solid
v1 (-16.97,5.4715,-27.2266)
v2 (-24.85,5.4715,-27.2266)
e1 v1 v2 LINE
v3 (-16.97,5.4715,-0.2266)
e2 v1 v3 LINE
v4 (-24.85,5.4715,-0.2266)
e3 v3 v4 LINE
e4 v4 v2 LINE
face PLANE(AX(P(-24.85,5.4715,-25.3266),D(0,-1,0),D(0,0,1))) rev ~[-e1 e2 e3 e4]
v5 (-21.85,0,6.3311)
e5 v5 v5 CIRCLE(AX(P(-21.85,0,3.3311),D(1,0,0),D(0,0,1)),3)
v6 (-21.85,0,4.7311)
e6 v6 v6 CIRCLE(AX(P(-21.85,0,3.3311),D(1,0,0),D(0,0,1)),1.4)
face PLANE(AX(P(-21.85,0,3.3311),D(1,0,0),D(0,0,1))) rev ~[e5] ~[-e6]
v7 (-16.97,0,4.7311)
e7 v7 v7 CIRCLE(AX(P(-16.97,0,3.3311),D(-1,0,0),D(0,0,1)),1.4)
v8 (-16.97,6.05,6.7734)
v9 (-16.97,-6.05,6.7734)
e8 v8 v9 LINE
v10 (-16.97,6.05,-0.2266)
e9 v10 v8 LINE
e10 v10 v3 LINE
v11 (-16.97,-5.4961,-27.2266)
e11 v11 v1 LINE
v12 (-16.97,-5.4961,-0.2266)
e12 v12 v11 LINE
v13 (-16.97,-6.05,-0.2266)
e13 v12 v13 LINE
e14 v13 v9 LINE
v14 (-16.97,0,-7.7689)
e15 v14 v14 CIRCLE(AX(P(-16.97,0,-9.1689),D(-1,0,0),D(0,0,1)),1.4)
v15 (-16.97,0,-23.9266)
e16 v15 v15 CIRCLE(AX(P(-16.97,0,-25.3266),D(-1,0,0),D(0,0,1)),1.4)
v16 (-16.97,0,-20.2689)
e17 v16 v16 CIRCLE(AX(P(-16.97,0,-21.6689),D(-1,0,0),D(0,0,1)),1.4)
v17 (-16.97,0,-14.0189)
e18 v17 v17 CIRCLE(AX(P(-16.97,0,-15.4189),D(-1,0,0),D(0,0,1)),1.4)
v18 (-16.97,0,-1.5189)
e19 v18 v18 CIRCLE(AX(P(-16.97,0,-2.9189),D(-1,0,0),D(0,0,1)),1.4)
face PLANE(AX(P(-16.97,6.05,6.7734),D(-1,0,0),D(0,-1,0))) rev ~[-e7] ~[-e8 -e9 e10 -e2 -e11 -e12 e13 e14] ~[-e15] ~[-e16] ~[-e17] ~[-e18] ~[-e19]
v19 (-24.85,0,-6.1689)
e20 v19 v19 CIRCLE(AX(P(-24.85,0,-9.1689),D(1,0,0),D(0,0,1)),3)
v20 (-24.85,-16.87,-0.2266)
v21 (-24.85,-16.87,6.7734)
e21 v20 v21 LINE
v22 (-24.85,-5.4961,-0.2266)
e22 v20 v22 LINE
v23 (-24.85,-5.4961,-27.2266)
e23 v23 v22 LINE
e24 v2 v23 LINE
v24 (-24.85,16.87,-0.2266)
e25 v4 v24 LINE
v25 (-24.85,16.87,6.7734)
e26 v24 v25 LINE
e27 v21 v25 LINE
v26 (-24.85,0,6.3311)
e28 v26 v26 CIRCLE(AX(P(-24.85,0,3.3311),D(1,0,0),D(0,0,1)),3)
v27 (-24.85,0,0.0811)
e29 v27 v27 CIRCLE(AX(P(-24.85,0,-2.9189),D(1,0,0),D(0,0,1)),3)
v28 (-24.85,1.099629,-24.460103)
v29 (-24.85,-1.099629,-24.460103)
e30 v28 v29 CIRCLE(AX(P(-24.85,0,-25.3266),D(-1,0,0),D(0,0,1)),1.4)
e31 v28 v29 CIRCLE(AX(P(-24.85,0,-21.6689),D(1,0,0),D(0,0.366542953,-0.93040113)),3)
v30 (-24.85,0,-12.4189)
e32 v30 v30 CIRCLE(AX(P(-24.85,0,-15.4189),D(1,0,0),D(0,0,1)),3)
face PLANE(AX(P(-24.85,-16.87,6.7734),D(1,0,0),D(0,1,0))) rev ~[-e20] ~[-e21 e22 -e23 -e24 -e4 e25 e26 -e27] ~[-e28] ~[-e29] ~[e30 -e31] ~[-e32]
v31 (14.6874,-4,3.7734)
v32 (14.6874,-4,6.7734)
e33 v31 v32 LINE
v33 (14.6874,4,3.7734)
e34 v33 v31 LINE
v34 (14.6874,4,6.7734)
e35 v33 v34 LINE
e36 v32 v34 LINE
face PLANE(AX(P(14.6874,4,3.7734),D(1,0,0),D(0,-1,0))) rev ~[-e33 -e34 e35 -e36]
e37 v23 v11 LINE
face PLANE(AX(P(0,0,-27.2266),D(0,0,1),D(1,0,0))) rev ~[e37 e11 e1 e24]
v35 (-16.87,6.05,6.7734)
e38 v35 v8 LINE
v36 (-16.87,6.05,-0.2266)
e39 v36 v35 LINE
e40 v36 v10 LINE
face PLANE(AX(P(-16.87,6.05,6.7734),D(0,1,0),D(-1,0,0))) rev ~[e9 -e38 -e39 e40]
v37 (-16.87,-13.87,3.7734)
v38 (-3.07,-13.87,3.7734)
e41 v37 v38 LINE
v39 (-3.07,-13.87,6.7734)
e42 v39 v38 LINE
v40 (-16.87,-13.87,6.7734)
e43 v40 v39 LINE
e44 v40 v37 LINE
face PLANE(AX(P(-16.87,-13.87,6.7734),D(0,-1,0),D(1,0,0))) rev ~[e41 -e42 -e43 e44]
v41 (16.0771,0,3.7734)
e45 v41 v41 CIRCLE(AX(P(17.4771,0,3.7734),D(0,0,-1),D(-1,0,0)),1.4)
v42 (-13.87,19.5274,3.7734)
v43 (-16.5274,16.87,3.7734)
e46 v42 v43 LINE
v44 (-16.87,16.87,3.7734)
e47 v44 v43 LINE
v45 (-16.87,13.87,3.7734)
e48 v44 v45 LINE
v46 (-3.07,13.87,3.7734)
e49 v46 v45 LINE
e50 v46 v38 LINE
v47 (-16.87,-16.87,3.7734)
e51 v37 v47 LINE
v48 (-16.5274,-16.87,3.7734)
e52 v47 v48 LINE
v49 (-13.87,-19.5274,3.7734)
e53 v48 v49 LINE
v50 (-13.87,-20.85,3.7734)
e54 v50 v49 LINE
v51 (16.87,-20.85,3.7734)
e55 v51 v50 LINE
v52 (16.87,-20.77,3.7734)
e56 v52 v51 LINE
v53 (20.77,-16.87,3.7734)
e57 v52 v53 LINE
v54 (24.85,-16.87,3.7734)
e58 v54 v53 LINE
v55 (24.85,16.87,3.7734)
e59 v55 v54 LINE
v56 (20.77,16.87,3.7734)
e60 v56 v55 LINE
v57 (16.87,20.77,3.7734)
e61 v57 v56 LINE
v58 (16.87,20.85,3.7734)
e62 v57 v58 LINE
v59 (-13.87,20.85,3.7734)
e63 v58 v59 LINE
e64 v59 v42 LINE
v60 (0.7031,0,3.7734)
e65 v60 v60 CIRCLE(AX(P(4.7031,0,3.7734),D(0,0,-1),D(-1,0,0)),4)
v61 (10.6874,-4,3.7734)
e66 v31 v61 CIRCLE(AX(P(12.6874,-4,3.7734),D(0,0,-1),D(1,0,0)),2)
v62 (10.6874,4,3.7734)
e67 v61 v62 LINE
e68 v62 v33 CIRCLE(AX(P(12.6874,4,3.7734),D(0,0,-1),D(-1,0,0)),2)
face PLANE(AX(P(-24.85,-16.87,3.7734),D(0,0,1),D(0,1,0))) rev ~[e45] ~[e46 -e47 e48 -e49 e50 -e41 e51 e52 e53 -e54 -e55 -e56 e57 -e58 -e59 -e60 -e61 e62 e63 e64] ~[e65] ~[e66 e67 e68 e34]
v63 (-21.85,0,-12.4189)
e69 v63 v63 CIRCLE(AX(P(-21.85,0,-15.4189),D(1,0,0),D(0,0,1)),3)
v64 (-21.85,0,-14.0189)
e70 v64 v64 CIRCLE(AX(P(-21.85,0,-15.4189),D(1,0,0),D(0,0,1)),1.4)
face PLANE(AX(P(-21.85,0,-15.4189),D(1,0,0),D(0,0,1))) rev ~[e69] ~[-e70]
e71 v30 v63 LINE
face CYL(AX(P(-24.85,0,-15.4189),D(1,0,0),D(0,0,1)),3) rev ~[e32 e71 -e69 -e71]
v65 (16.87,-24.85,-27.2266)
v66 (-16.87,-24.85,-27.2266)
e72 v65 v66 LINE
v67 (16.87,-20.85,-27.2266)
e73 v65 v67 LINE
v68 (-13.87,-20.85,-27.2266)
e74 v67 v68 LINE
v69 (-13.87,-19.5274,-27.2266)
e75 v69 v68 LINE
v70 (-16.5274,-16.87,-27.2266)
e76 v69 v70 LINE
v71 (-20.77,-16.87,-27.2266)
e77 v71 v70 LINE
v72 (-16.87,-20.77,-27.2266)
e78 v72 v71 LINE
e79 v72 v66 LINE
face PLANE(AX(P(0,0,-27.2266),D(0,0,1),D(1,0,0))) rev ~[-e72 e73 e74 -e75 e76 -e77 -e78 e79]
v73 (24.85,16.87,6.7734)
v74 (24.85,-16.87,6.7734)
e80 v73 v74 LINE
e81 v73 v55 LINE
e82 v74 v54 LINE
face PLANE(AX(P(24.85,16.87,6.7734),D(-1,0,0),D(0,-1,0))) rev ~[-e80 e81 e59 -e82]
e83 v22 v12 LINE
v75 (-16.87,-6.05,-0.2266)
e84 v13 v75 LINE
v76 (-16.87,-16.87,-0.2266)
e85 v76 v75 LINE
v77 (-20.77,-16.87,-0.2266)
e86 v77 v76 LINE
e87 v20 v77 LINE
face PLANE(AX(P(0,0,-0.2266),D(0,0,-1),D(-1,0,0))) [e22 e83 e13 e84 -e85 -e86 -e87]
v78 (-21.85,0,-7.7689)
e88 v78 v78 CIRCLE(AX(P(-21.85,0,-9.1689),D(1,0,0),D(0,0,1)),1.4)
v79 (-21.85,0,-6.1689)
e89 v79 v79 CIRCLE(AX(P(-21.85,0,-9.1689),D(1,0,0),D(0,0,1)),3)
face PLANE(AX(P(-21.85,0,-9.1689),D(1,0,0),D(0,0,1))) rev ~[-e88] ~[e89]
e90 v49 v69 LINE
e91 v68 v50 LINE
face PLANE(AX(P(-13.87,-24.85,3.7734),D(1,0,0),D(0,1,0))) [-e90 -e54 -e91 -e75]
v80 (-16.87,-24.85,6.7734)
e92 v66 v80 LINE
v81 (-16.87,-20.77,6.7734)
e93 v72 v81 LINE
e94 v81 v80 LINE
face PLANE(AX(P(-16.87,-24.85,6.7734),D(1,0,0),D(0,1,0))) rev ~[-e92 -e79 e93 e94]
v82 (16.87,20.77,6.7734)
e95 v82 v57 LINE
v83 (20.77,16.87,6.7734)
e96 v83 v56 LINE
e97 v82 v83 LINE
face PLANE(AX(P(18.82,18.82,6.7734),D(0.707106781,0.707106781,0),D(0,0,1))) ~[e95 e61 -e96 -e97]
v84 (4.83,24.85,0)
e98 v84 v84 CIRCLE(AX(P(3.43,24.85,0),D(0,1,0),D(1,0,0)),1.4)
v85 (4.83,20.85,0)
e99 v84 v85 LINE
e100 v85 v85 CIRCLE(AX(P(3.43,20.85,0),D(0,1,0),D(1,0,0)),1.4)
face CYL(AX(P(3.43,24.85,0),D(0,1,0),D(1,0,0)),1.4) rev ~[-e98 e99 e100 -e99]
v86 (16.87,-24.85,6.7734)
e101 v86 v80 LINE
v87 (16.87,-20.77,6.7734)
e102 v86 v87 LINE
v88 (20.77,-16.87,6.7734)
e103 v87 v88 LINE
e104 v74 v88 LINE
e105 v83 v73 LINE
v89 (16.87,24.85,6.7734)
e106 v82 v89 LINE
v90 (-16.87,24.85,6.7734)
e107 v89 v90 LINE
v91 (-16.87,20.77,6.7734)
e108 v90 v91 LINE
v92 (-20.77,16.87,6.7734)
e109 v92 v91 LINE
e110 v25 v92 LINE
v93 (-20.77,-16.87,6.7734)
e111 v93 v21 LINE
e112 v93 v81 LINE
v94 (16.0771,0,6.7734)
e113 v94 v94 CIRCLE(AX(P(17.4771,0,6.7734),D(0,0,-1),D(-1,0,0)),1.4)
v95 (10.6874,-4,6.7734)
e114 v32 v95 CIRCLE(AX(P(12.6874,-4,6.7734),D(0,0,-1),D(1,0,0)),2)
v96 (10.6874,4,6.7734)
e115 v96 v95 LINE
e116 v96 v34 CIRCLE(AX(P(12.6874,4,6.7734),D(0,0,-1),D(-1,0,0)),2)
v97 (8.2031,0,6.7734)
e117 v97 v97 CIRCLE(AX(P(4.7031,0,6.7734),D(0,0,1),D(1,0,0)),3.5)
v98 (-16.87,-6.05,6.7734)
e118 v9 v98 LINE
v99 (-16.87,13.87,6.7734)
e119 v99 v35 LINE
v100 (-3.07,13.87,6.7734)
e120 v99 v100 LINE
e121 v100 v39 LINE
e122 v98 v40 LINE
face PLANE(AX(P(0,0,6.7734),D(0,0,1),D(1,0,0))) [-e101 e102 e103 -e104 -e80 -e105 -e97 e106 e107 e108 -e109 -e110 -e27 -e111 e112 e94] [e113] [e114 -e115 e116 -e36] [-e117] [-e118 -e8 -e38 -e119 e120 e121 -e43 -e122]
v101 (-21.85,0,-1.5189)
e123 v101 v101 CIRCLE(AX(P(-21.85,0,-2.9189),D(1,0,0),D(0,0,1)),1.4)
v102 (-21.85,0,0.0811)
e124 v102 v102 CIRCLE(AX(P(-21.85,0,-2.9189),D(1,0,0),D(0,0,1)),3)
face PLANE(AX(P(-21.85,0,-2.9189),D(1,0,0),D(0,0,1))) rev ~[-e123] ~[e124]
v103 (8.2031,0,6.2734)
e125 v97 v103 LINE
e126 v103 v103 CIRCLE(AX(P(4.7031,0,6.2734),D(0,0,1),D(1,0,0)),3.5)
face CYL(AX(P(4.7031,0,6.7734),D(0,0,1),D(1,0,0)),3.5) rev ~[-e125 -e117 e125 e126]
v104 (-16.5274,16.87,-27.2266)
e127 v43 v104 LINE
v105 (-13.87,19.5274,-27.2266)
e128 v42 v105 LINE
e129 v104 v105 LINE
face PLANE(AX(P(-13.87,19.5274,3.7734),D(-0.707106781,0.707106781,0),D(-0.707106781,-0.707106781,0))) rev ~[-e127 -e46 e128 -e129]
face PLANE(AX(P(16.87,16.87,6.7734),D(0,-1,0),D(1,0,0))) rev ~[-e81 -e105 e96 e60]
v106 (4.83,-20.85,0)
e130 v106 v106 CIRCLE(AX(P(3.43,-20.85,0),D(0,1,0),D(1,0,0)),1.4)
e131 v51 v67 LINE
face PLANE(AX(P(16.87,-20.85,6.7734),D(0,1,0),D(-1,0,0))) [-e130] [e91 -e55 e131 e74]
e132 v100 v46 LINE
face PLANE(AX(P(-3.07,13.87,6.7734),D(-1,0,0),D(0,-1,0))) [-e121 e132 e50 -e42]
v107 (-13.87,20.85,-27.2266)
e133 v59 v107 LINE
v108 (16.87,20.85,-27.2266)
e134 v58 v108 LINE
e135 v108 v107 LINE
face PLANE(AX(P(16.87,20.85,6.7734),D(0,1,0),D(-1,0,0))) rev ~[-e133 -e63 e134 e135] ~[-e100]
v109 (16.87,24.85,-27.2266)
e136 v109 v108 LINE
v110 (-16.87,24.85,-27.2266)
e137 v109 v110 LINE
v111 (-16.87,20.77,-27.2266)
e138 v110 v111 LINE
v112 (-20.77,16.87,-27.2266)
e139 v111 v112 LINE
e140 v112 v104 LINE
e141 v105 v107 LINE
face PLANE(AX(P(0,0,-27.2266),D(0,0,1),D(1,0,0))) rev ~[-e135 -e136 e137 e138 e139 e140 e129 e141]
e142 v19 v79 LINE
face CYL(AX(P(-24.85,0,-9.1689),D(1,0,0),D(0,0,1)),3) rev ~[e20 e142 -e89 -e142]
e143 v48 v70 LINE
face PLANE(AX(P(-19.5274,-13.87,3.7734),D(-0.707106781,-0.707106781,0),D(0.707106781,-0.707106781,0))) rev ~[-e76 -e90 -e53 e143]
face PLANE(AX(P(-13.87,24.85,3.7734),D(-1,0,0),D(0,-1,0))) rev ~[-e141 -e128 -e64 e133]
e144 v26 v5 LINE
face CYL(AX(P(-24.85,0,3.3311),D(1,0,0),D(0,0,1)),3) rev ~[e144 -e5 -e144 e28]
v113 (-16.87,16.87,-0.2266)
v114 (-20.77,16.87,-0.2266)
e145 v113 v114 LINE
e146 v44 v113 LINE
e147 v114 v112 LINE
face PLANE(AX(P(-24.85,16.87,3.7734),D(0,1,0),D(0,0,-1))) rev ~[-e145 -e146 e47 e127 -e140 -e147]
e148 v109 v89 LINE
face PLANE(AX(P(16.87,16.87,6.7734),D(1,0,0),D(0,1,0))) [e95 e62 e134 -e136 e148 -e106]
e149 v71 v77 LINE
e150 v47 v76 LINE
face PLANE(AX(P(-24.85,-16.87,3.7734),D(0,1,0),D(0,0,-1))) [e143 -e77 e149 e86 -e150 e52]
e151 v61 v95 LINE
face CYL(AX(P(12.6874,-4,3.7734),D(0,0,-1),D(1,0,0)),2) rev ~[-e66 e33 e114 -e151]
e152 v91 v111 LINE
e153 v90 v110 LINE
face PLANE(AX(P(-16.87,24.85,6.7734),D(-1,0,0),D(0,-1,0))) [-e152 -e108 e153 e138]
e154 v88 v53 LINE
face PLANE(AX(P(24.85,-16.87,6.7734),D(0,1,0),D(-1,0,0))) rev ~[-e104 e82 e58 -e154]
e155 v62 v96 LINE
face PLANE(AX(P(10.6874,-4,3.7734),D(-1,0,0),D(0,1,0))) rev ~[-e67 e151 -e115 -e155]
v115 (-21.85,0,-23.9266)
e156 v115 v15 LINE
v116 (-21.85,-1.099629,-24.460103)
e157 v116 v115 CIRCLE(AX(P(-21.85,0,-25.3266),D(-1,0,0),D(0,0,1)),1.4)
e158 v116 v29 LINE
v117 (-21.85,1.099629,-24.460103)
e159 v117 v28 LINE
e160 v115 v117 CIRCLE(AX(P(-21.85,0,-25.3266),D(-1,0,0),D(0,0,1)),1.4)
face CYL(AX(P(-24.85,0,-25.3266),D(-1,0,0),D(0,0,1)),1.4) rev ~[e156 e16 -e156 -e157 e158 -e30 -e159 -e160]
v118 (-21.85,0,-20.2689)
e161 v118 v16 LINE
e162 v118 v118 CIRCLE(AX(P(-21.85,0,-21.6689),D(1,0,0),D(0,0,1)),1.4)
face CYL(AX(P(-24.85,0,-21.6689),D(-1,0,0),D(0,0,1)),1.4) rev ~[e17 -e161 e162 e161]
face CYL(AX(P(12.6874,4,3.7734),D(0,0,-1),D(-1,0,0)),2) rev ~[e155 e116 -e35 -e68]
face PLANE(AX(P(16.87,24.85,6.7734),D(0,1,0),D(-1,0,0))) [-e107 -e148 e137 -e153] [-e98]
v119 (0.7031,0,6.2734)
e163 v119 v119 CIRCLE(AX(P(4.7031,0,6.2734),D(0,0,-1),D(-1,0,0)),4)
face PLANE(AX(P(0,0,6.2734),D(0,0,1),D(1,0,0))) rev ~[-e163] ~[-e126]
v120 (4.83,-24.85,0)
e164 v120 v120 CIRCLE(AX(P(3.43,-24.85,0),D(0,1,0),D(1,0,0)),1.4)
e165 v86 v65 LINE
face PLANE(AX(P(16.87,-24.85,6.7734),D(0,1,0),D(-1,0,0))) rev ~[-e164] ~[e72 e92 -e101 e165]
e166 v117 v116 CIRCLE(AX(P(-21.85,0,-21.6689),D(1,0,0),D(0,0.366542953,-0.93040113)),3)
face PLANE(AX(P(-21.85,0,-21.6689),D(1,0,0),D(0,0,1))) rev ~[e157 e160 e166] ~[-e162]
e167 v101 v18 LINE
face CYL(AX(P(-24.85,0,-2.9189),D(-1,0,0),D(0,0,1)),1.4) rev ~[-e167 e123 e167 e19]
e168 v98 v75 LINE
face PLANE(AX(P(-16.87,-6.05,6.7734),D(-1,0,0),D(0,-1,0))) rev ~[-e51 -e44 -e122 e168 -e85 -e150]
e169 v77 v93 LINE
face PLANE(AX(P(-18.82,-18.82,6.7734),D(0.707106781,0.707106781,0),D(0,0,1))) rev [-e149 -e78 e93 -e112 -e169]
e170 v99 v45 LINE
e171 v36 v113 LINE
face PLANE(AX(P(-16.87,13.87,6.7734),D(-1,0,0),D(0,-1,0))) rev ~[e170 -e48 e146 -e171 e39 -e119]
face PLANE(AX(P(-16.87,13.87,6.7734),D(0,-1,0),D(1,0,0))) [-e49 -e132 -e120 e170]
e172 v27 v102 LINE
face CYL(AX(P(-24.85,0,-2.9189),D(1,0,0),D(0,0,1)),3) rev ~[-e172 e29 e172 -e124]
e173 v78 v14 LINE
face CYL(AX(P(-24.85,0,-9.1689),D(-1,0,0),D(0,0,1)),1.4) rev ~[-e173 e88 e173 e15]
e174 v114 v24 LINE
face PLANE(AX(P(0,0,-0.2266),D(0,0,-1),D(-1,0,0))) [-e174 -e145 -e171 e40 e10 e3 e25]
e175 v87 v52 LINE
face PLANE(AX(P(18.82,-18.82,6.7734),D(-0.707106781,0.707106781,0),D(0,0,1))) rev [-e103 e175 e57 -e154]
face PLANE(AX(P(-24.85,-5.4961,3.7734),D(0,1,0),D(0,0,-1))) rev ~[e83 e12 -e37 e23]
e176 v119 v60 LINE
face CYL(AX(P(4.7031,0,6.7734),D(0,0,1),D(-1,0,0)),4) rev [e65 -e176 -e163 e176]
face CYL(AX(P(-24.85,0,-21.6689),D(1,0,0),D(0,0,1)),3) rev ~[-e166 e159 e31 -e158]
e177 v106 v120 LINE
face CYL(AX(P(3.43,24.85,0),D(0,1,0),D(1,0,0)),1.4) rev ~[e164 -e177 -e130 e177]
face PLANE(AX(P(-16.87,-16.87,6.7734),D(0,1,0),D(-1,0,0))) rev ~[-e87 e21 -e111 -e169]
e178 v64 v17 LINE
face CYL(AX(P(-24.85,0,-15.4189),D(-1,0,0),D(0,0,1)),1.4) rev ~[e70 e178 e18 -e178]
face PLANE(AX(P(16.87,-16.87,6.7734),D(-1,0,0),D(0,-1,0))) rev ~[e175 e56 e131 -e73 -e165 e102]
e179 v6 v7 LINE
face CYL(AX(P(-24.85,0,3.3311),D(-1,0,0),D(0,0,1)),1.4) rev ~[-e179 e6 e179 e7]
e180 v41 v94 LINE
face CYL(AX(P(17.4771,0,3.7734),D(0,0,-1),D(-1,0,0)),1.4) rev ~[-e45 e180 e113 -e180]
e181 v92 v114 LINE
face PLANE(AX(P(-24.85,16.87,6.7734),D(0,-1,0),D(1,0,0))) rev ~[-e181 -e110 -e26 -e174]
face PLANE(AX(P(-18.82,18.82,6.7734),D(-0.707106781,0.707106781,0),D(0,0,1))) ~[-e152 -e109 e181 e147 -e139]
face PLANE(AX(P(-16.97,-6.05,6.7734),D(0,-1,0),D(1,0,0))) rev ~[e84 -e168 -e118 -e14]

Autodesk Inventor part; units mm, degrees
ref_plane "Work Plane1" through (0, 0, 6.7734) normal (0, 0, -1) x (-1, 0, 0)
sketch "Sketch1" plane through (0, 0, 6.7734) normal (0, 0, -1) x (-1, 0, 0)
  line L0 (24.85, 16.87) -> (16.87, 16.87)
  line L1 (16.87, -16.87) -> (24.85, -16.87)
  line L2 (24.85, -16.87) -> (24.85, 16.87)
  line L3 (-16.87, 24.85) -> (16.87, 24.85)
  line L4 (16.87, 24.85) -> (16.87, 13.87)
  line L5 (16.87, 13.87) -> (-16.87, 13.87)
  line L6 (-16.87, 13.87) -> (-16.87, 24.85)
  line L7 (-16.87, 16.87) -> (-24.85, 16.87)
  line L8 (-24.85, 16.87) -> (-24.85, -16.87)
  line L9 (-24.85, -16.87) -> (-16.87, -16.87)
  line L10 (-16.87, -24.85) -> (16.87, -24.85)
  line L11 (16.87, -24.85) -> (16.87, -13.87)
  line L12 (16.87, -13.87) -> (-16.87, -13.87)
  line L13 (-16.87, -13.87) -> (-16.87, -24.85)
  circle A0 centre (-22.53, 11.5) radius 1.025 construction
  circle A1 centre (-22.53, -11.5) radius 1.025 construction
  line L14 (-11.03, -14.1) -> (-11.03, -12.75) construction
  arc A2 (-11.03, 12.75) -> (-11.03, -12.75) centre (-11.03, 0) ccw construction
  line L15 (-11.03, 12.75) -> (-11.03, 14.1) construction
  line L16 (-11.03, 14.1) -> (-22.53, 14.1) construction
  arc A3 (-22.53, 14.1) -> (-25.13, 11.5) centre (-22.53, 11.5) ccw construction
  line L17 (-25.13, 11.5) -> (-25.13, -11.5) construction
  arc A4 (-25.13, -11.5) -> (-22.53, -14.1) centre (-22.53, -11.5) ccw construction
  line L18 (-22.53, -14.1) -> (-11.03, -14.1) construction
  circle A5 centre (-11.03, 0) radius 12.75 construction
  circle A6 centre (0.47, 11.5) radius 1.025 construction
  circle A7 centre (0.47, -11.5) radius 1.025 construction
  circle A8 centre (-22.53, -11.5) radius 1.025 construction
  circle A9 centre (-22.53, 11.5) radius 1.025 construction
  line L19 (-22.53, -14.1) -> (0.47, -14.1) construction
  arc A10 (-25.13, -11.5) -> (-22.53, -14.1) centre (-22.53, -11.5) ccw construction
  line L20 (-25.13, 11.5) -> (-25.13, -11.5) construction
  arc A11 (-22.53, 14.1) -> (-25.13, 11.5) centre (-22.53, 11.5) ccw construction
  line L21 (0.47, 14.1) -> (-22.53, 14.1) construction
  arc A12 (3.07, 11.5) -> (0.47, 14.1) centre (0.47, 11.5) ccw construction
  line L22 (3.07, -11.5) -> (3.07, 11.5) construction
  arc A13 (0.47, -14.1) -> (3.07, -11.5) centre (0.47, -11.5) ccw construction
  line L23 (-16.87, 13.87) -> (3.07, 13.87)
  line L24 (3.07, 13.87) -> (3.07, -13.87)
  line L25 (3.07, -13.87) -> (-16.87, -13.87)
  line L26 (16.87, 6.05) -> (16.97, 6.05)
  line L27 (16.97, 6.05) -> (16.97, -6.05)
  line L28 (16.97, -6.05) -> (16.87, -6.05)
  line L29 (16.87, -6.05) -> (16.87, -4.7)
  line L30 (16.87, 4.7) -> (16.87, 6.05)
  line L31 (16.87, 16.87) -> (16.87, 6.05)
  line L32 (16.87, -6.05) -> (16.87, -16.87)
  line L33 (5.77, -13.3) -> (13.57, -13.3) projected
  line L34 (13.57, 13.1) -> (5.77, 13.1) projected
  circle A14 centre (-4.7031, 0) radius 7 construction
  circle A15 centre (-4.7031, 0) radius 4
  point P0 (0, 0)
  point P1 (16.87, 16.87)
  point P2 (3.07, 13.87)
  point P3 (3.07, 13.87)
  point P4 (-16.87, -16.87)
  dimension "d6" = 3
  dimension "d7" = 3
  dimension "d140" = 8
extrude "Extrusion1" add sketch "Sketch1" along normal blind 3 contours L2 L1 L11 L32 L28 L27 L26 L31 L4 L0 | L4 L5 L6 L3 | L11 L10 L13 L12 | L24 L12 L13 L9 L8 L7 L6 L5
chamfer "Chamfer1" distance 3.9 angle 45 4 edges at (-16.87, -16.87, 5.2734) (16.87, -16.87, 5.2734) (16.87, 16.87, 5.2734) (-16.87, 16.87, 5.2734)
sketch "Sketch2" plane through (0, 0, 3.7734) normal (0, 0, -1) x (-1, 0, 0)
  line L0 (3.07, 13.87) -> (16.87, 13.87) projected
  line L1 (16.87, -13.87) -> (3.07, -13.87) projected
  line L2 (-16.87, -20.77) -> (-16.87, -24.85) construction
  line L3 (-16.87, -24.85) -> (16.87, -24.85) construction
  line L4 (16.87, -6.05) -> (16.87, -13.87) projected
  line L5 (16.87, 20.77) -> (16.87, 24.85) construction
  line L6 (16.87, 24.85) -> (-16.87, 24.85) construction
  line L7 (-16.87, 24.85) -> (-16.87, 20.77) construction
  line L8 (-13.8689, -21.8489) -> (-13.8689, -19.5269)
  line L9 (-13.8689, -19.5269) -> (-19.5269, -13.8689)
  line L10 (-19.5269, -13.8689) -> (-21.8489, -13.8689)
  line L11 (-21.8489, 13.8689) -> (-19.5269, 13.8689)
  line L12 (-19.5269, 13.8689) -> (-13.8689, 19.5269)
  line L13 (-13.8689, 19.5269) -> (-13.8689, 21.8489)
  line L14 (-13.8689, 21.8489) -> (-13.8689, 24.85)
  line L15 (-21.8489, 13.8689) -> (-24.85, 13.8689)
  line L16 (-21.8489, -13.8689) -> (-24.85, -13.8689)
  line L17 (-13.8689, -21.8489) -> (-13.8689, -24.85)
  line L18 (-11.5469, -21.8489) -> (-13.8689, -21.8489)
  line L19 (-21.8489, -13.8689) -> (-21.8489, -11.5469)
  line L20 (-21.8489, 11.5469) -> (-21.8489, 13.8689)
  line L21 (-13.8689, 21.8489) -> (-11.5469, 21.8489)
  line L22 (16.87, 13.87) -> (16.87, 6.05) projected
  line L23 (16.87, 6.05) -> (16.97, 6.05) projected
  line L24 (16.97, 6.05) -> (16.97, -6.05) projected
  line L25 (16.97, -6.05) -> (16.87, -6.05) projected
  line L26 (20.77, -16.87) -> (24.85, -16.87) construction
  line L27 (24.85, -16.87) -> (24.85, 16.87) construction
  line L28 (24.85, 16.87) -> (20.77, 16.87) construction
  line L29 (16.87, 20.77) -> (20.77, 16.87) construction
  line L30 (16.87, -24.85) -> (16.87, -20.77) construction
  line L31 (20.77, -16.87) -> (16.87, -20.77) construction
  line L32 (-13.87, 21.85) -> (13.87, 21.85) construction
  line L33 (13.87, 21.85) -> (13.87, 19.5274) construction
  line L34 (13.87, 19.5274) -> (19.5274, 13.87) construction
  line L35 (19.5274, 13.87) -> (21.85, 13.87) construction
  line L36 (21.85, 13.87) -> (21.85, -13.87) construction
  line L37 (21.85, -13.87) -> (19.5274, -13.87) construction
  line L38 (19.5274, -13.87) -> (13.87, -19.5274) construction
  line L39 (13.87, -19.5274) -> (13.87, -21.85) construction
  line L40 (13.87, -21.85) -> (-13.87, -21.85) construction
  line L41 (-13.87, -21.85) -> (-13.87, -19.5274) construction
  line L42 (-13.87, -19.5274) -> (-19.5274, -13.87) construction
  line L43 (-19.5274, -13.87) -> (-21.85, -13.87) construction
  line L44 (-21.85, -13.87) -> (-21.85, 13.87) construction
  line L45 (-21.85, 13.87) -> (-19.5274, 13.87) construction
  line L46 (-19.5274, 13.87) -> (-13.87, 19.5274) construction
  line L47 (-13.87, 19.5274) -> (-13.87, 21.85) construction
  line L48 (16.87, 24.85) -> (-16.87, 24.85) projected
  line L49 (13.87, 24.85) -> (13.87, 19.5274)
  line L50 (13.87, 19.5274) -> (19.5274, 13.87)
  line L51 (19.5274, 13.87) -> (24.85, 13.87)
  line L52 (24.85, -16.87) -> (24.85, 16.87) projected
  line L53 (24.85, -13.87) -> (19.5274, -13.87)
  line L54 (19.5274, -13.87) -> (13.87, -19.5274)
  line L55 (-16.87, -24.85) -> (16.87, -24.85) projected
  line L56 (13.87, -24.85) -> (13.87, -19.5274)
  line L57 (16.87, 24.85) -> (-16.87, 24.85) projected
  line L58 (13.87, 24.85) -> (16.87, 24.85)
  line L59 (16.87, 24.85) -> (16.87, 20.77)
  line L60 (16.87, 20.77) -> (20.77, 16.87)
  line L61 (24.85, 16.87) -> (20.77, 16.87) projected
  line L62 (24.85, 16.87) -> (20.77, 16.87)
  line L63 (24.85, -16.87) -> (24.85, 16.87) projected
  line L64 (24.85, 16.87) -> (24.85, 13.87)
  line L65 (24.85, -13.87) -> (24.85, -16.87)
  line L66 (24.85, -16.87) -> (20.77, -16.87)
  line L67 (20.77, -16.87) -> (16.87, -20.77)
  line L68 (16.87, -24.85) -> (16.87, -20.77) projected
  line L69 (16.87, -24.85) -> (16.87, -20.77)
  line L70 (16.87, -20.77) -> (16.87, -24.85)
  line L71 (16.87, -24.85) -> (-16.87, -24.85) projected
  line L72 (13.87, -24.85) -> (16.87, -24.85)
  line L73 (3.07, -13.87) -> (3.07, 13.87) projected
  line L74 (-20.77, 16.87) -> (-24.85, 16.87) projected
  line L75 (-24.85, 16.87) -> (-24.85, -16.87) projected
  line L76 (-24.85, -16.87) -> (-20.77, -16.87) projected
  line L77 (-16.87, -20.77) -> (-20.77, -16.87) projected
  line L78 (-20.77, 16.87) -> (-16.87, 20.77) projected
  point P0 (0, 0)
  dimension "d115" = 3
ref_plane "Work Plane2" through (-16.97, -24.85, 34.1) normal (0, 0, -1) x (0, 1, 0)
extrude "Extrusion2" add sketch "Sketch2" along normal blind 31.5 contours L56 L54 L53 L52 L66 L67 L68 L55 | L51 L50 L49 L48 L59 L60 L61 L52
sketch "Sketch4" plane through (-24.85, -16.87, 6.7734) normal (-1, 0, 0) x (0, 0, 1)
  line L0 (37.9, 11.3739) -> (37.9, 18.453) construction
  line L1 (23.6194, 18.453) -> (37.9, 18.453) construction
  arc A0 (22.1806, 18.453) -> (23.6194, 18.453) centre (22.9, 16.8577) ccw construction
  line L2 (-1.3806, 18.453) -> (22.1806, 18.453) construction
  arc A1 (-2.8194, 18.453) -> (-1.3806, 18.453) centre (-2.1, 16.8577) ccw construction
  line L3 (-31.3806, 18.453) -> (-2.8194, 18.453) construction
  arc A2 (-32.8194, 18.453) -> (-31.3806, 18.453) centre (-32.1, 16.8577) ccw construction
  line L4 (-42.1, 18.453) -> (-32.8194, 18.453) construction
  line L5 (-42.1, 11.3739) -> (-42.1, 18.453) construction
  line L6 (-42.1, 11.3739) -> (37.9, 11.3739) construction
  line L7 (37.9, 19.2506) -> (37.9, 22.3415) construction
  line L8 (-42.1, 22.3415) -> (37.9, 22.3415) construction
  line L9 (-42.1, 19.2506) -> (-42.1, 22.3415) construction
  line L10 (-42.1, 19.2506) -> (37.9, 19.2506) construction
  line L11 (-3, 3) -> (-3, 30.74) construction
  line L12 (-34.1, 33.84) -> (-34.1, -5.98) construction
  line L13 (-3, 11.3739) -> (-34.1, 11.3739)
  line L14 (-34.1, 11.3739) -> (-34.1, 22.3415)
  line L15 (-34.1, 22.3415) -> (-3, 22.3415)
  line L16 (-3, 22.3415) -> (-3, 11.3739)
  line L17 (-34.1, 11.3739) -> (-32.1, 11.3739)
  line L18 (-32.1, 11.3739) -> (-32.1, 3.0011)
  line L19 (-32.1, 3.0011) -> (-34.1, 3.0011)
  line L20 (-34.1, 3.0011) -> (-34.1, 11.3739)
  line L21 (-34.1, 22.3415) -> (-32.1, 22.3415)
  line L22 (-32.1, 22.3415) -> (-32.1, 30.7389)
  line L23 (-32.1, 30.7389) -> (-34.1, 30.7389)
  line L24 (-34.1, 30.7389) -> (-34.1, 22.3415)
  point P0 (-6.7734, 16.87)
  point P1 (-3, 3.0011)
  point P2 (-3, 30.7389)
  point P3 (-3, 33.74)
  point P4 (-3, 31.418)
  point P5 (-3, 0)
  dimension "d24" = 2
ref_plane "Work Plane3" through (16.97, -5.4961, -37.9) normal (1, 0, 0) x (0, 1, 0)
extrude "Extrusion4" add sketch "Sketch4" against normal blind 7.88 contours L13 L14 L15 L16
sketch "Sketch5" plane through (-24.85, -16.87, 6.7734) normal (-1, 0, 0) x (0, 0, 1)
  circle A0 centre (-32.1, 16.87) radius 1.4
  circle A1 centre (-3.4423, 16.87) radius 1.4
  line L0 (0, -7.98) -> (-34.5, -7.98) projected
  line L1 (0, 41.72) -> (-34.5, 41.72) projected
  line L2 (0, -7.98) -> (-34.5, -7.98) projected
  point P0 (-6.7734, 16.87)
  dimension "d25" = 2.8
  dimension "d26" = 2.8
  dimension "d86" = 49.7
  dimension "d87" = 24.85
  dimension "d88" = 0
extrude "Extrusion5" cut sketch "Sketch5" against normal blind 10
pattern_linear "Rectangular Pattern1" count 5 spacing 6.25 along (0, 0, -1) of "Extrusion5"
ref_plane "Work Plane4" through (-25.03, -12.97, -12) normal (0, 0, 1) x (1, 0, 0)
sketch "Sketch12" plane through (-24.85, -16.87, 6.7734) normal (-1, 0, 0) x (0, 0, 1)
  ellipse E0 centre (-17.053, 16.87) end of major axis (-32.053, 16.87) minor radius 10.6066 projected
  circle A0 centre (-32.1, 16.87) radius 1.4 projected
  circle A1 centre (-22.1923, 16.87) radius 1.4 projected
  circle A2 centre (-15.9423, 16.87) radius 1.4 projected
  circle A3 centre (-9.6923, 16.87) radius 1.4 projected
  circle A4 centre (-3.4423, 16.87) radius 1.4 projected
  circle A5 centre (-28.4423, 16.87) radius 1.4 projected
  point P0 (-6.7734, 16.87)
hole "Hole2" at (-24.85, 0, -15.4189) at (-24.85, 0, -2.9189) at (-24.85, 0, 3.3311) at (-24.85, 0, -9.1689) at (-24.85, 0, -21.6689) direction (1, 0, 0) diameter 2.8 depth 8 tip angle 118 counterbore diameter 6 counterbore depth 3
ref_plane "Work Plane6" through (0, 0, -22) normal (0, 0, -1) x (-1, 0, 0)
ref_plane "Work Plane5" through (-16.97, -16.97, 0) normal (0, 0, 1) x (1, 0, 0)
ref_plane "Work Plane7" through (0, -16.87, 6.7734) normal (1, 0, 0) x (0, 0, -1)
ref_plane "Work Plane8" through (16.87, 0, 6.7734) normal (0, 1, 0) x (-1, 0, 0)
sketch "Skizze18" plane through (-24.85, -16.87, 6.7734) normal (-1, 0, 0) x (0, 0, 1)
  line L0 (0, 0) -> (-34.5, 0) projected
  line L1 (0, 0) -> (0, 33.74) projected
  line L2 (0, 33.74) -> (-34.5, 33.74) projected
  arc A0 (-31.2335, 15.7704) -> (-31.2335, 17.9696) centre (-28.4423, 16.87) ccw projected
  arc A1 (-31.2335, 17.9696) -> (-31.2335, 15.7704) centre (-32.1, 16.87) ccw projected
  circle A2 centre (-3.4423, 16.87) radius 3 projected
  circle A3 centre (-22.1923, 16.87) radius 3 projected
  circle A4 centre (-9.6923, 16.87) radius 3 projected
  circle A5 centre (-15.9423, 16.87) radius 3 projected
  line L3 (-3, 30.7389) -> (-34.5, 30.7389) projected
  line L4 (-34.1, 30.7389) -> (-3, 30.7389)
  line L5 (-3, 30.7389) -> (-3, 33.74)
  line L6 (-3, 33.74) -> (-34.1, 33.74)
  line L7 (-34.1, 33.74) -> (-34.1, 30.7389)
  line L8 (-3, 3.0011) -> (-34.5, 3.0011) projected
  line L9 (0, 0) -> (-34.5, 0) projected
  line L10 (-3, 3.0011) -> (-34.1, 3.0011)
  line L11 (-34.1, 3.0011) -> (-34.1, 0)
  line L12 (-34.1, 0) -> (-3, 0)
  line L13 (-3, 0) -> (-3, 3.0011)
  line L14 (-3, 22.3415) -> (-3, 30.74) projected
  line L15 (-34.1, 22.3415) -> (-3, 22.3415) projected
  line L16 (-34.1, 11.3739) -> (-34.1, 22.3415) projected
  line L17 (-3, 11.3739) -> (-34.1, 11.3739) projected
  line L18 (-3, 3) -> (-3, 11.3739) projected
  line L19 (-34.5, 30.74) -> (-34.5, 33.74) projected
  line L20 (-3, 30.74) -> (-34.5, 30.74) projected
  line L21 (-3, 3) -> (-34.5, 3) projected
  line L22 (-34.5, 0) -> (-34.5, 3) projected
  point P0 (-6.7734, 16.87)
  point P1 (-35.1, 0)
  point P2 (-34.1, 3.0011)
  point P3 (-3, 0)
  point P4 (-34.1, 0)
extrude "Extrusion14" cut sketch "Skizze18" against normal blind 10 contours L0 L11 L8 L13 | L5 L3 L7 L2
sketch "Skizze19" plane through (0, 0, 6.7734) normal (0, 0, 1) x (1, 0, 0)
  line L0 (-34.5437, 37.7032) -> (40.2308, 37.7032)
  line L1 (40.2308, 37.7032) -> (40.2308, -45.0753)
  line L2 (40.2308, -45.0753) -> (-34.5437, -45.0753)
  line L3 (-34.5437, -45.0753) -> (-34.5437, 37.7032)
  point P0 (0, 0)
extrude "Extrusion15" cut sketch "Skizze19" against normal blind 34 keep common part
sketch "Skizze20" plane through (0, 0, 6.7734) normal (0, 0, 1) x (1, 0, 0)
  line L0 (-16.87, 24.85) -> (16.87, 24.85) projected
  line L1 (-16.87, -24.85) -> (16.87, -24.85) projected
  line L2 (16.87, 24.85) -> (16.87, 20.77) projected
  line L3 (-16.87, 24.85) -> (16.87, 24.85)
  line L4 (16.87, 24.85) -> (16.87, 20.85)
  line L5 (16.87, 20.85) -> (-16.87, 20.85)
  line L6 (-16.87, 20.85) -> (-16.87, 24.85)
  line L7 (-16.87, -13.87) -> (-16.87, -13.87) projected
  line L8 (-16.87, -24.85) -> (16.87, -24.85)
  line L9 (16.87, -24.85) -> (16.87, -20.85)
  line L10 (16.87, -20.85) -> (-16.87, -20.85)
  line L11 (-16.87, -20.85) -> (-16.87, -24.85)
  point P0 (0, 0)
  point P1 (-16.87, -20.77)
  point P2 (16.87, -24.85)
  point P3 (-16.87, -20.85)
  point P4 (16.87, 13.87)
  dimension "d104" = 4
  dimension "d105" = 4
extrude "Extrusion16" add sketch "Skizze20" against normal blind 34
sketch "Skizze23" plane through (0, 0, 6.7734) normal (0, 0, 1) x (1, 0, 0)
  circle A0 centre (4.7031, 0) radius 3.5
  circle A1 centre (4.7031, 0) radius 4 projected
  point P0 (0, 0)
  dimension "d118" = 7
extrude "Extrusion19" add sketch "Skizze23" against normal blind 0.5
sketch "Skizze25" plane through (0, 0, 3.7734) normal (0, 0, -1) x (-1, 0, 0)
  line L0 (13.87, 20.85) -> (-16.87, 20.85) projected
  line L1 (-16.87, 20.85) -> (-16.87, 20.77) projected
  line L2 (-20.77, 16.87) -> (-16.87, 20.77) projected
  line L3 (-20.77, 16.87) -> (-24.85, 16.87) projected
  line L4 (-24.85, 16.87) -> (-24.85, -16.87) projected
  line L5 (-24.85, -16.87) -> (-20.77, -16.87) projected
  line L6 (-16.87, -20.77) -> (-20.77, -16.87) projected
  line L7 (-16.87, -20.77) -> (-16.87, -20.85) projected
  line L8 (-16.87, -20.85) -> (13.87, -20.85) projected
  line L9 (13.87, -20.85) -> (13.87, -19.5274) projected
  line L10 (13.87, -19.5274) -> (16.5274, -16.87) projected
  line L11 (20.77, -16.87) -> (16.5274, -16.87) projected
  line L12 (24.85, -16.87) -> (20.77, -16.87) projected
  line L13 (24.85, -16.87) -> (24.85, -5.4961) projected
  line L14 (24.85, -5.4961) -> (16.97, -5.4961) projected
  line L15 (16.97, -5.4961) -> (16.97, -6.05) projected
  line L16 (16.97, -6.05) -> (16.87, -6.05) projected
  line L17 (16.87, -6.05) -> (16.87, -13.87) projected
  line L18 (16.87, -13.87) -> (3.07, -13.87) projected
  line L19 (3.07, -13.87) -> (3.07, 13.87) projected
  line L20 (3.07, 13.87) -> (16.87, 13.87) projected
  line L21 (16.87, 13.87) -> (16.87, 6.05) projected
  line L22 (16.87, 6.05) -> (16.97, 6.05) projected
  line L23 (16.97, 6.05) -> (16.97, 5.4715) projected
  line L24 (16.97, 5.4715) -> (24.85, 5.4715) projected
  line L25 (24.85, 5.4715) -> (24.85, 16.87) projected
  line L26 (20.77, 16.87) -> (24.85, 16.87) projected
  line L27 (20.77, 16.87) -> (16.5274, 16.87) projected
  line L28 (16.5274, 16.87) -> (13.87, 19.5274) projected
  line L29 (13.87, 19.5274) -> (13.87, 20.85) projected
  line L30 (16.87, 13.87) -> (16.87, 16.87)
  line L31 (16.87, -6.05) -> (16.87, -13.87) projected
  line L32 (16.87, -13.87) -> (16.87, -16.87)
  line L33 (20.77, -16.87) -> (16.5274, -16.87) projected
  point P0 (0, 0)
extrude "Extrusion21" add sketch "Skizze25" along normal blind 4 contours L27 L26 L25 L24 L23 L22 L21 L30 | L17 L16 L15 L14 L13 L12 L11 L32
sketch "Skizze26" plane through (-16.87, 24.85, 6.7734) normal (0, 1, 0) x (1, 0, 0)
  line L0 (10.4974, 3) -> (30.1026, 3)
  circle A0 centre (20.3, 6.7734) radius 1.4
  point P0 (16.87, 6.7734)
  dimension "d132" = 2.8
extrude "Extrusion22" cut sketch "Skizze26" against normal through all
sketch "Skizze27" plane through (0, 0, 3.7734) normal (0, 0, -1) x (-1, 0, 0)
  line L0 (-12.6874, -4) -> (-12.6874, 4) construction
  line L1 (-10.6874, -4) -> (-10.6874, 4)
  line L2 (-14.6874, 4) -> (-14.6874, -4)
  arc A0 (-14.6874, -4) -> (-10.6874, -4) centre (-12.6874, -4) ccw
  arc A1 (-10.6874, 4) -> (-14.6874, 4) centre (-12.6874, 4) ccw
  circle A2 centre (-17.4771, 0) radius 1.4
  point P0 (0, 0)
  point P1 (-12.6874, 0)
  dimension "d135" = 4
  dimension "d136" = 4
  dimension "d137" = 2.8
extrude "Extrusion23" cut sketch "Skizze27" against normal through all
properties part number "30_Cube_Z_Focus_MGN_NEMA_base_belt_pushing_v3"
